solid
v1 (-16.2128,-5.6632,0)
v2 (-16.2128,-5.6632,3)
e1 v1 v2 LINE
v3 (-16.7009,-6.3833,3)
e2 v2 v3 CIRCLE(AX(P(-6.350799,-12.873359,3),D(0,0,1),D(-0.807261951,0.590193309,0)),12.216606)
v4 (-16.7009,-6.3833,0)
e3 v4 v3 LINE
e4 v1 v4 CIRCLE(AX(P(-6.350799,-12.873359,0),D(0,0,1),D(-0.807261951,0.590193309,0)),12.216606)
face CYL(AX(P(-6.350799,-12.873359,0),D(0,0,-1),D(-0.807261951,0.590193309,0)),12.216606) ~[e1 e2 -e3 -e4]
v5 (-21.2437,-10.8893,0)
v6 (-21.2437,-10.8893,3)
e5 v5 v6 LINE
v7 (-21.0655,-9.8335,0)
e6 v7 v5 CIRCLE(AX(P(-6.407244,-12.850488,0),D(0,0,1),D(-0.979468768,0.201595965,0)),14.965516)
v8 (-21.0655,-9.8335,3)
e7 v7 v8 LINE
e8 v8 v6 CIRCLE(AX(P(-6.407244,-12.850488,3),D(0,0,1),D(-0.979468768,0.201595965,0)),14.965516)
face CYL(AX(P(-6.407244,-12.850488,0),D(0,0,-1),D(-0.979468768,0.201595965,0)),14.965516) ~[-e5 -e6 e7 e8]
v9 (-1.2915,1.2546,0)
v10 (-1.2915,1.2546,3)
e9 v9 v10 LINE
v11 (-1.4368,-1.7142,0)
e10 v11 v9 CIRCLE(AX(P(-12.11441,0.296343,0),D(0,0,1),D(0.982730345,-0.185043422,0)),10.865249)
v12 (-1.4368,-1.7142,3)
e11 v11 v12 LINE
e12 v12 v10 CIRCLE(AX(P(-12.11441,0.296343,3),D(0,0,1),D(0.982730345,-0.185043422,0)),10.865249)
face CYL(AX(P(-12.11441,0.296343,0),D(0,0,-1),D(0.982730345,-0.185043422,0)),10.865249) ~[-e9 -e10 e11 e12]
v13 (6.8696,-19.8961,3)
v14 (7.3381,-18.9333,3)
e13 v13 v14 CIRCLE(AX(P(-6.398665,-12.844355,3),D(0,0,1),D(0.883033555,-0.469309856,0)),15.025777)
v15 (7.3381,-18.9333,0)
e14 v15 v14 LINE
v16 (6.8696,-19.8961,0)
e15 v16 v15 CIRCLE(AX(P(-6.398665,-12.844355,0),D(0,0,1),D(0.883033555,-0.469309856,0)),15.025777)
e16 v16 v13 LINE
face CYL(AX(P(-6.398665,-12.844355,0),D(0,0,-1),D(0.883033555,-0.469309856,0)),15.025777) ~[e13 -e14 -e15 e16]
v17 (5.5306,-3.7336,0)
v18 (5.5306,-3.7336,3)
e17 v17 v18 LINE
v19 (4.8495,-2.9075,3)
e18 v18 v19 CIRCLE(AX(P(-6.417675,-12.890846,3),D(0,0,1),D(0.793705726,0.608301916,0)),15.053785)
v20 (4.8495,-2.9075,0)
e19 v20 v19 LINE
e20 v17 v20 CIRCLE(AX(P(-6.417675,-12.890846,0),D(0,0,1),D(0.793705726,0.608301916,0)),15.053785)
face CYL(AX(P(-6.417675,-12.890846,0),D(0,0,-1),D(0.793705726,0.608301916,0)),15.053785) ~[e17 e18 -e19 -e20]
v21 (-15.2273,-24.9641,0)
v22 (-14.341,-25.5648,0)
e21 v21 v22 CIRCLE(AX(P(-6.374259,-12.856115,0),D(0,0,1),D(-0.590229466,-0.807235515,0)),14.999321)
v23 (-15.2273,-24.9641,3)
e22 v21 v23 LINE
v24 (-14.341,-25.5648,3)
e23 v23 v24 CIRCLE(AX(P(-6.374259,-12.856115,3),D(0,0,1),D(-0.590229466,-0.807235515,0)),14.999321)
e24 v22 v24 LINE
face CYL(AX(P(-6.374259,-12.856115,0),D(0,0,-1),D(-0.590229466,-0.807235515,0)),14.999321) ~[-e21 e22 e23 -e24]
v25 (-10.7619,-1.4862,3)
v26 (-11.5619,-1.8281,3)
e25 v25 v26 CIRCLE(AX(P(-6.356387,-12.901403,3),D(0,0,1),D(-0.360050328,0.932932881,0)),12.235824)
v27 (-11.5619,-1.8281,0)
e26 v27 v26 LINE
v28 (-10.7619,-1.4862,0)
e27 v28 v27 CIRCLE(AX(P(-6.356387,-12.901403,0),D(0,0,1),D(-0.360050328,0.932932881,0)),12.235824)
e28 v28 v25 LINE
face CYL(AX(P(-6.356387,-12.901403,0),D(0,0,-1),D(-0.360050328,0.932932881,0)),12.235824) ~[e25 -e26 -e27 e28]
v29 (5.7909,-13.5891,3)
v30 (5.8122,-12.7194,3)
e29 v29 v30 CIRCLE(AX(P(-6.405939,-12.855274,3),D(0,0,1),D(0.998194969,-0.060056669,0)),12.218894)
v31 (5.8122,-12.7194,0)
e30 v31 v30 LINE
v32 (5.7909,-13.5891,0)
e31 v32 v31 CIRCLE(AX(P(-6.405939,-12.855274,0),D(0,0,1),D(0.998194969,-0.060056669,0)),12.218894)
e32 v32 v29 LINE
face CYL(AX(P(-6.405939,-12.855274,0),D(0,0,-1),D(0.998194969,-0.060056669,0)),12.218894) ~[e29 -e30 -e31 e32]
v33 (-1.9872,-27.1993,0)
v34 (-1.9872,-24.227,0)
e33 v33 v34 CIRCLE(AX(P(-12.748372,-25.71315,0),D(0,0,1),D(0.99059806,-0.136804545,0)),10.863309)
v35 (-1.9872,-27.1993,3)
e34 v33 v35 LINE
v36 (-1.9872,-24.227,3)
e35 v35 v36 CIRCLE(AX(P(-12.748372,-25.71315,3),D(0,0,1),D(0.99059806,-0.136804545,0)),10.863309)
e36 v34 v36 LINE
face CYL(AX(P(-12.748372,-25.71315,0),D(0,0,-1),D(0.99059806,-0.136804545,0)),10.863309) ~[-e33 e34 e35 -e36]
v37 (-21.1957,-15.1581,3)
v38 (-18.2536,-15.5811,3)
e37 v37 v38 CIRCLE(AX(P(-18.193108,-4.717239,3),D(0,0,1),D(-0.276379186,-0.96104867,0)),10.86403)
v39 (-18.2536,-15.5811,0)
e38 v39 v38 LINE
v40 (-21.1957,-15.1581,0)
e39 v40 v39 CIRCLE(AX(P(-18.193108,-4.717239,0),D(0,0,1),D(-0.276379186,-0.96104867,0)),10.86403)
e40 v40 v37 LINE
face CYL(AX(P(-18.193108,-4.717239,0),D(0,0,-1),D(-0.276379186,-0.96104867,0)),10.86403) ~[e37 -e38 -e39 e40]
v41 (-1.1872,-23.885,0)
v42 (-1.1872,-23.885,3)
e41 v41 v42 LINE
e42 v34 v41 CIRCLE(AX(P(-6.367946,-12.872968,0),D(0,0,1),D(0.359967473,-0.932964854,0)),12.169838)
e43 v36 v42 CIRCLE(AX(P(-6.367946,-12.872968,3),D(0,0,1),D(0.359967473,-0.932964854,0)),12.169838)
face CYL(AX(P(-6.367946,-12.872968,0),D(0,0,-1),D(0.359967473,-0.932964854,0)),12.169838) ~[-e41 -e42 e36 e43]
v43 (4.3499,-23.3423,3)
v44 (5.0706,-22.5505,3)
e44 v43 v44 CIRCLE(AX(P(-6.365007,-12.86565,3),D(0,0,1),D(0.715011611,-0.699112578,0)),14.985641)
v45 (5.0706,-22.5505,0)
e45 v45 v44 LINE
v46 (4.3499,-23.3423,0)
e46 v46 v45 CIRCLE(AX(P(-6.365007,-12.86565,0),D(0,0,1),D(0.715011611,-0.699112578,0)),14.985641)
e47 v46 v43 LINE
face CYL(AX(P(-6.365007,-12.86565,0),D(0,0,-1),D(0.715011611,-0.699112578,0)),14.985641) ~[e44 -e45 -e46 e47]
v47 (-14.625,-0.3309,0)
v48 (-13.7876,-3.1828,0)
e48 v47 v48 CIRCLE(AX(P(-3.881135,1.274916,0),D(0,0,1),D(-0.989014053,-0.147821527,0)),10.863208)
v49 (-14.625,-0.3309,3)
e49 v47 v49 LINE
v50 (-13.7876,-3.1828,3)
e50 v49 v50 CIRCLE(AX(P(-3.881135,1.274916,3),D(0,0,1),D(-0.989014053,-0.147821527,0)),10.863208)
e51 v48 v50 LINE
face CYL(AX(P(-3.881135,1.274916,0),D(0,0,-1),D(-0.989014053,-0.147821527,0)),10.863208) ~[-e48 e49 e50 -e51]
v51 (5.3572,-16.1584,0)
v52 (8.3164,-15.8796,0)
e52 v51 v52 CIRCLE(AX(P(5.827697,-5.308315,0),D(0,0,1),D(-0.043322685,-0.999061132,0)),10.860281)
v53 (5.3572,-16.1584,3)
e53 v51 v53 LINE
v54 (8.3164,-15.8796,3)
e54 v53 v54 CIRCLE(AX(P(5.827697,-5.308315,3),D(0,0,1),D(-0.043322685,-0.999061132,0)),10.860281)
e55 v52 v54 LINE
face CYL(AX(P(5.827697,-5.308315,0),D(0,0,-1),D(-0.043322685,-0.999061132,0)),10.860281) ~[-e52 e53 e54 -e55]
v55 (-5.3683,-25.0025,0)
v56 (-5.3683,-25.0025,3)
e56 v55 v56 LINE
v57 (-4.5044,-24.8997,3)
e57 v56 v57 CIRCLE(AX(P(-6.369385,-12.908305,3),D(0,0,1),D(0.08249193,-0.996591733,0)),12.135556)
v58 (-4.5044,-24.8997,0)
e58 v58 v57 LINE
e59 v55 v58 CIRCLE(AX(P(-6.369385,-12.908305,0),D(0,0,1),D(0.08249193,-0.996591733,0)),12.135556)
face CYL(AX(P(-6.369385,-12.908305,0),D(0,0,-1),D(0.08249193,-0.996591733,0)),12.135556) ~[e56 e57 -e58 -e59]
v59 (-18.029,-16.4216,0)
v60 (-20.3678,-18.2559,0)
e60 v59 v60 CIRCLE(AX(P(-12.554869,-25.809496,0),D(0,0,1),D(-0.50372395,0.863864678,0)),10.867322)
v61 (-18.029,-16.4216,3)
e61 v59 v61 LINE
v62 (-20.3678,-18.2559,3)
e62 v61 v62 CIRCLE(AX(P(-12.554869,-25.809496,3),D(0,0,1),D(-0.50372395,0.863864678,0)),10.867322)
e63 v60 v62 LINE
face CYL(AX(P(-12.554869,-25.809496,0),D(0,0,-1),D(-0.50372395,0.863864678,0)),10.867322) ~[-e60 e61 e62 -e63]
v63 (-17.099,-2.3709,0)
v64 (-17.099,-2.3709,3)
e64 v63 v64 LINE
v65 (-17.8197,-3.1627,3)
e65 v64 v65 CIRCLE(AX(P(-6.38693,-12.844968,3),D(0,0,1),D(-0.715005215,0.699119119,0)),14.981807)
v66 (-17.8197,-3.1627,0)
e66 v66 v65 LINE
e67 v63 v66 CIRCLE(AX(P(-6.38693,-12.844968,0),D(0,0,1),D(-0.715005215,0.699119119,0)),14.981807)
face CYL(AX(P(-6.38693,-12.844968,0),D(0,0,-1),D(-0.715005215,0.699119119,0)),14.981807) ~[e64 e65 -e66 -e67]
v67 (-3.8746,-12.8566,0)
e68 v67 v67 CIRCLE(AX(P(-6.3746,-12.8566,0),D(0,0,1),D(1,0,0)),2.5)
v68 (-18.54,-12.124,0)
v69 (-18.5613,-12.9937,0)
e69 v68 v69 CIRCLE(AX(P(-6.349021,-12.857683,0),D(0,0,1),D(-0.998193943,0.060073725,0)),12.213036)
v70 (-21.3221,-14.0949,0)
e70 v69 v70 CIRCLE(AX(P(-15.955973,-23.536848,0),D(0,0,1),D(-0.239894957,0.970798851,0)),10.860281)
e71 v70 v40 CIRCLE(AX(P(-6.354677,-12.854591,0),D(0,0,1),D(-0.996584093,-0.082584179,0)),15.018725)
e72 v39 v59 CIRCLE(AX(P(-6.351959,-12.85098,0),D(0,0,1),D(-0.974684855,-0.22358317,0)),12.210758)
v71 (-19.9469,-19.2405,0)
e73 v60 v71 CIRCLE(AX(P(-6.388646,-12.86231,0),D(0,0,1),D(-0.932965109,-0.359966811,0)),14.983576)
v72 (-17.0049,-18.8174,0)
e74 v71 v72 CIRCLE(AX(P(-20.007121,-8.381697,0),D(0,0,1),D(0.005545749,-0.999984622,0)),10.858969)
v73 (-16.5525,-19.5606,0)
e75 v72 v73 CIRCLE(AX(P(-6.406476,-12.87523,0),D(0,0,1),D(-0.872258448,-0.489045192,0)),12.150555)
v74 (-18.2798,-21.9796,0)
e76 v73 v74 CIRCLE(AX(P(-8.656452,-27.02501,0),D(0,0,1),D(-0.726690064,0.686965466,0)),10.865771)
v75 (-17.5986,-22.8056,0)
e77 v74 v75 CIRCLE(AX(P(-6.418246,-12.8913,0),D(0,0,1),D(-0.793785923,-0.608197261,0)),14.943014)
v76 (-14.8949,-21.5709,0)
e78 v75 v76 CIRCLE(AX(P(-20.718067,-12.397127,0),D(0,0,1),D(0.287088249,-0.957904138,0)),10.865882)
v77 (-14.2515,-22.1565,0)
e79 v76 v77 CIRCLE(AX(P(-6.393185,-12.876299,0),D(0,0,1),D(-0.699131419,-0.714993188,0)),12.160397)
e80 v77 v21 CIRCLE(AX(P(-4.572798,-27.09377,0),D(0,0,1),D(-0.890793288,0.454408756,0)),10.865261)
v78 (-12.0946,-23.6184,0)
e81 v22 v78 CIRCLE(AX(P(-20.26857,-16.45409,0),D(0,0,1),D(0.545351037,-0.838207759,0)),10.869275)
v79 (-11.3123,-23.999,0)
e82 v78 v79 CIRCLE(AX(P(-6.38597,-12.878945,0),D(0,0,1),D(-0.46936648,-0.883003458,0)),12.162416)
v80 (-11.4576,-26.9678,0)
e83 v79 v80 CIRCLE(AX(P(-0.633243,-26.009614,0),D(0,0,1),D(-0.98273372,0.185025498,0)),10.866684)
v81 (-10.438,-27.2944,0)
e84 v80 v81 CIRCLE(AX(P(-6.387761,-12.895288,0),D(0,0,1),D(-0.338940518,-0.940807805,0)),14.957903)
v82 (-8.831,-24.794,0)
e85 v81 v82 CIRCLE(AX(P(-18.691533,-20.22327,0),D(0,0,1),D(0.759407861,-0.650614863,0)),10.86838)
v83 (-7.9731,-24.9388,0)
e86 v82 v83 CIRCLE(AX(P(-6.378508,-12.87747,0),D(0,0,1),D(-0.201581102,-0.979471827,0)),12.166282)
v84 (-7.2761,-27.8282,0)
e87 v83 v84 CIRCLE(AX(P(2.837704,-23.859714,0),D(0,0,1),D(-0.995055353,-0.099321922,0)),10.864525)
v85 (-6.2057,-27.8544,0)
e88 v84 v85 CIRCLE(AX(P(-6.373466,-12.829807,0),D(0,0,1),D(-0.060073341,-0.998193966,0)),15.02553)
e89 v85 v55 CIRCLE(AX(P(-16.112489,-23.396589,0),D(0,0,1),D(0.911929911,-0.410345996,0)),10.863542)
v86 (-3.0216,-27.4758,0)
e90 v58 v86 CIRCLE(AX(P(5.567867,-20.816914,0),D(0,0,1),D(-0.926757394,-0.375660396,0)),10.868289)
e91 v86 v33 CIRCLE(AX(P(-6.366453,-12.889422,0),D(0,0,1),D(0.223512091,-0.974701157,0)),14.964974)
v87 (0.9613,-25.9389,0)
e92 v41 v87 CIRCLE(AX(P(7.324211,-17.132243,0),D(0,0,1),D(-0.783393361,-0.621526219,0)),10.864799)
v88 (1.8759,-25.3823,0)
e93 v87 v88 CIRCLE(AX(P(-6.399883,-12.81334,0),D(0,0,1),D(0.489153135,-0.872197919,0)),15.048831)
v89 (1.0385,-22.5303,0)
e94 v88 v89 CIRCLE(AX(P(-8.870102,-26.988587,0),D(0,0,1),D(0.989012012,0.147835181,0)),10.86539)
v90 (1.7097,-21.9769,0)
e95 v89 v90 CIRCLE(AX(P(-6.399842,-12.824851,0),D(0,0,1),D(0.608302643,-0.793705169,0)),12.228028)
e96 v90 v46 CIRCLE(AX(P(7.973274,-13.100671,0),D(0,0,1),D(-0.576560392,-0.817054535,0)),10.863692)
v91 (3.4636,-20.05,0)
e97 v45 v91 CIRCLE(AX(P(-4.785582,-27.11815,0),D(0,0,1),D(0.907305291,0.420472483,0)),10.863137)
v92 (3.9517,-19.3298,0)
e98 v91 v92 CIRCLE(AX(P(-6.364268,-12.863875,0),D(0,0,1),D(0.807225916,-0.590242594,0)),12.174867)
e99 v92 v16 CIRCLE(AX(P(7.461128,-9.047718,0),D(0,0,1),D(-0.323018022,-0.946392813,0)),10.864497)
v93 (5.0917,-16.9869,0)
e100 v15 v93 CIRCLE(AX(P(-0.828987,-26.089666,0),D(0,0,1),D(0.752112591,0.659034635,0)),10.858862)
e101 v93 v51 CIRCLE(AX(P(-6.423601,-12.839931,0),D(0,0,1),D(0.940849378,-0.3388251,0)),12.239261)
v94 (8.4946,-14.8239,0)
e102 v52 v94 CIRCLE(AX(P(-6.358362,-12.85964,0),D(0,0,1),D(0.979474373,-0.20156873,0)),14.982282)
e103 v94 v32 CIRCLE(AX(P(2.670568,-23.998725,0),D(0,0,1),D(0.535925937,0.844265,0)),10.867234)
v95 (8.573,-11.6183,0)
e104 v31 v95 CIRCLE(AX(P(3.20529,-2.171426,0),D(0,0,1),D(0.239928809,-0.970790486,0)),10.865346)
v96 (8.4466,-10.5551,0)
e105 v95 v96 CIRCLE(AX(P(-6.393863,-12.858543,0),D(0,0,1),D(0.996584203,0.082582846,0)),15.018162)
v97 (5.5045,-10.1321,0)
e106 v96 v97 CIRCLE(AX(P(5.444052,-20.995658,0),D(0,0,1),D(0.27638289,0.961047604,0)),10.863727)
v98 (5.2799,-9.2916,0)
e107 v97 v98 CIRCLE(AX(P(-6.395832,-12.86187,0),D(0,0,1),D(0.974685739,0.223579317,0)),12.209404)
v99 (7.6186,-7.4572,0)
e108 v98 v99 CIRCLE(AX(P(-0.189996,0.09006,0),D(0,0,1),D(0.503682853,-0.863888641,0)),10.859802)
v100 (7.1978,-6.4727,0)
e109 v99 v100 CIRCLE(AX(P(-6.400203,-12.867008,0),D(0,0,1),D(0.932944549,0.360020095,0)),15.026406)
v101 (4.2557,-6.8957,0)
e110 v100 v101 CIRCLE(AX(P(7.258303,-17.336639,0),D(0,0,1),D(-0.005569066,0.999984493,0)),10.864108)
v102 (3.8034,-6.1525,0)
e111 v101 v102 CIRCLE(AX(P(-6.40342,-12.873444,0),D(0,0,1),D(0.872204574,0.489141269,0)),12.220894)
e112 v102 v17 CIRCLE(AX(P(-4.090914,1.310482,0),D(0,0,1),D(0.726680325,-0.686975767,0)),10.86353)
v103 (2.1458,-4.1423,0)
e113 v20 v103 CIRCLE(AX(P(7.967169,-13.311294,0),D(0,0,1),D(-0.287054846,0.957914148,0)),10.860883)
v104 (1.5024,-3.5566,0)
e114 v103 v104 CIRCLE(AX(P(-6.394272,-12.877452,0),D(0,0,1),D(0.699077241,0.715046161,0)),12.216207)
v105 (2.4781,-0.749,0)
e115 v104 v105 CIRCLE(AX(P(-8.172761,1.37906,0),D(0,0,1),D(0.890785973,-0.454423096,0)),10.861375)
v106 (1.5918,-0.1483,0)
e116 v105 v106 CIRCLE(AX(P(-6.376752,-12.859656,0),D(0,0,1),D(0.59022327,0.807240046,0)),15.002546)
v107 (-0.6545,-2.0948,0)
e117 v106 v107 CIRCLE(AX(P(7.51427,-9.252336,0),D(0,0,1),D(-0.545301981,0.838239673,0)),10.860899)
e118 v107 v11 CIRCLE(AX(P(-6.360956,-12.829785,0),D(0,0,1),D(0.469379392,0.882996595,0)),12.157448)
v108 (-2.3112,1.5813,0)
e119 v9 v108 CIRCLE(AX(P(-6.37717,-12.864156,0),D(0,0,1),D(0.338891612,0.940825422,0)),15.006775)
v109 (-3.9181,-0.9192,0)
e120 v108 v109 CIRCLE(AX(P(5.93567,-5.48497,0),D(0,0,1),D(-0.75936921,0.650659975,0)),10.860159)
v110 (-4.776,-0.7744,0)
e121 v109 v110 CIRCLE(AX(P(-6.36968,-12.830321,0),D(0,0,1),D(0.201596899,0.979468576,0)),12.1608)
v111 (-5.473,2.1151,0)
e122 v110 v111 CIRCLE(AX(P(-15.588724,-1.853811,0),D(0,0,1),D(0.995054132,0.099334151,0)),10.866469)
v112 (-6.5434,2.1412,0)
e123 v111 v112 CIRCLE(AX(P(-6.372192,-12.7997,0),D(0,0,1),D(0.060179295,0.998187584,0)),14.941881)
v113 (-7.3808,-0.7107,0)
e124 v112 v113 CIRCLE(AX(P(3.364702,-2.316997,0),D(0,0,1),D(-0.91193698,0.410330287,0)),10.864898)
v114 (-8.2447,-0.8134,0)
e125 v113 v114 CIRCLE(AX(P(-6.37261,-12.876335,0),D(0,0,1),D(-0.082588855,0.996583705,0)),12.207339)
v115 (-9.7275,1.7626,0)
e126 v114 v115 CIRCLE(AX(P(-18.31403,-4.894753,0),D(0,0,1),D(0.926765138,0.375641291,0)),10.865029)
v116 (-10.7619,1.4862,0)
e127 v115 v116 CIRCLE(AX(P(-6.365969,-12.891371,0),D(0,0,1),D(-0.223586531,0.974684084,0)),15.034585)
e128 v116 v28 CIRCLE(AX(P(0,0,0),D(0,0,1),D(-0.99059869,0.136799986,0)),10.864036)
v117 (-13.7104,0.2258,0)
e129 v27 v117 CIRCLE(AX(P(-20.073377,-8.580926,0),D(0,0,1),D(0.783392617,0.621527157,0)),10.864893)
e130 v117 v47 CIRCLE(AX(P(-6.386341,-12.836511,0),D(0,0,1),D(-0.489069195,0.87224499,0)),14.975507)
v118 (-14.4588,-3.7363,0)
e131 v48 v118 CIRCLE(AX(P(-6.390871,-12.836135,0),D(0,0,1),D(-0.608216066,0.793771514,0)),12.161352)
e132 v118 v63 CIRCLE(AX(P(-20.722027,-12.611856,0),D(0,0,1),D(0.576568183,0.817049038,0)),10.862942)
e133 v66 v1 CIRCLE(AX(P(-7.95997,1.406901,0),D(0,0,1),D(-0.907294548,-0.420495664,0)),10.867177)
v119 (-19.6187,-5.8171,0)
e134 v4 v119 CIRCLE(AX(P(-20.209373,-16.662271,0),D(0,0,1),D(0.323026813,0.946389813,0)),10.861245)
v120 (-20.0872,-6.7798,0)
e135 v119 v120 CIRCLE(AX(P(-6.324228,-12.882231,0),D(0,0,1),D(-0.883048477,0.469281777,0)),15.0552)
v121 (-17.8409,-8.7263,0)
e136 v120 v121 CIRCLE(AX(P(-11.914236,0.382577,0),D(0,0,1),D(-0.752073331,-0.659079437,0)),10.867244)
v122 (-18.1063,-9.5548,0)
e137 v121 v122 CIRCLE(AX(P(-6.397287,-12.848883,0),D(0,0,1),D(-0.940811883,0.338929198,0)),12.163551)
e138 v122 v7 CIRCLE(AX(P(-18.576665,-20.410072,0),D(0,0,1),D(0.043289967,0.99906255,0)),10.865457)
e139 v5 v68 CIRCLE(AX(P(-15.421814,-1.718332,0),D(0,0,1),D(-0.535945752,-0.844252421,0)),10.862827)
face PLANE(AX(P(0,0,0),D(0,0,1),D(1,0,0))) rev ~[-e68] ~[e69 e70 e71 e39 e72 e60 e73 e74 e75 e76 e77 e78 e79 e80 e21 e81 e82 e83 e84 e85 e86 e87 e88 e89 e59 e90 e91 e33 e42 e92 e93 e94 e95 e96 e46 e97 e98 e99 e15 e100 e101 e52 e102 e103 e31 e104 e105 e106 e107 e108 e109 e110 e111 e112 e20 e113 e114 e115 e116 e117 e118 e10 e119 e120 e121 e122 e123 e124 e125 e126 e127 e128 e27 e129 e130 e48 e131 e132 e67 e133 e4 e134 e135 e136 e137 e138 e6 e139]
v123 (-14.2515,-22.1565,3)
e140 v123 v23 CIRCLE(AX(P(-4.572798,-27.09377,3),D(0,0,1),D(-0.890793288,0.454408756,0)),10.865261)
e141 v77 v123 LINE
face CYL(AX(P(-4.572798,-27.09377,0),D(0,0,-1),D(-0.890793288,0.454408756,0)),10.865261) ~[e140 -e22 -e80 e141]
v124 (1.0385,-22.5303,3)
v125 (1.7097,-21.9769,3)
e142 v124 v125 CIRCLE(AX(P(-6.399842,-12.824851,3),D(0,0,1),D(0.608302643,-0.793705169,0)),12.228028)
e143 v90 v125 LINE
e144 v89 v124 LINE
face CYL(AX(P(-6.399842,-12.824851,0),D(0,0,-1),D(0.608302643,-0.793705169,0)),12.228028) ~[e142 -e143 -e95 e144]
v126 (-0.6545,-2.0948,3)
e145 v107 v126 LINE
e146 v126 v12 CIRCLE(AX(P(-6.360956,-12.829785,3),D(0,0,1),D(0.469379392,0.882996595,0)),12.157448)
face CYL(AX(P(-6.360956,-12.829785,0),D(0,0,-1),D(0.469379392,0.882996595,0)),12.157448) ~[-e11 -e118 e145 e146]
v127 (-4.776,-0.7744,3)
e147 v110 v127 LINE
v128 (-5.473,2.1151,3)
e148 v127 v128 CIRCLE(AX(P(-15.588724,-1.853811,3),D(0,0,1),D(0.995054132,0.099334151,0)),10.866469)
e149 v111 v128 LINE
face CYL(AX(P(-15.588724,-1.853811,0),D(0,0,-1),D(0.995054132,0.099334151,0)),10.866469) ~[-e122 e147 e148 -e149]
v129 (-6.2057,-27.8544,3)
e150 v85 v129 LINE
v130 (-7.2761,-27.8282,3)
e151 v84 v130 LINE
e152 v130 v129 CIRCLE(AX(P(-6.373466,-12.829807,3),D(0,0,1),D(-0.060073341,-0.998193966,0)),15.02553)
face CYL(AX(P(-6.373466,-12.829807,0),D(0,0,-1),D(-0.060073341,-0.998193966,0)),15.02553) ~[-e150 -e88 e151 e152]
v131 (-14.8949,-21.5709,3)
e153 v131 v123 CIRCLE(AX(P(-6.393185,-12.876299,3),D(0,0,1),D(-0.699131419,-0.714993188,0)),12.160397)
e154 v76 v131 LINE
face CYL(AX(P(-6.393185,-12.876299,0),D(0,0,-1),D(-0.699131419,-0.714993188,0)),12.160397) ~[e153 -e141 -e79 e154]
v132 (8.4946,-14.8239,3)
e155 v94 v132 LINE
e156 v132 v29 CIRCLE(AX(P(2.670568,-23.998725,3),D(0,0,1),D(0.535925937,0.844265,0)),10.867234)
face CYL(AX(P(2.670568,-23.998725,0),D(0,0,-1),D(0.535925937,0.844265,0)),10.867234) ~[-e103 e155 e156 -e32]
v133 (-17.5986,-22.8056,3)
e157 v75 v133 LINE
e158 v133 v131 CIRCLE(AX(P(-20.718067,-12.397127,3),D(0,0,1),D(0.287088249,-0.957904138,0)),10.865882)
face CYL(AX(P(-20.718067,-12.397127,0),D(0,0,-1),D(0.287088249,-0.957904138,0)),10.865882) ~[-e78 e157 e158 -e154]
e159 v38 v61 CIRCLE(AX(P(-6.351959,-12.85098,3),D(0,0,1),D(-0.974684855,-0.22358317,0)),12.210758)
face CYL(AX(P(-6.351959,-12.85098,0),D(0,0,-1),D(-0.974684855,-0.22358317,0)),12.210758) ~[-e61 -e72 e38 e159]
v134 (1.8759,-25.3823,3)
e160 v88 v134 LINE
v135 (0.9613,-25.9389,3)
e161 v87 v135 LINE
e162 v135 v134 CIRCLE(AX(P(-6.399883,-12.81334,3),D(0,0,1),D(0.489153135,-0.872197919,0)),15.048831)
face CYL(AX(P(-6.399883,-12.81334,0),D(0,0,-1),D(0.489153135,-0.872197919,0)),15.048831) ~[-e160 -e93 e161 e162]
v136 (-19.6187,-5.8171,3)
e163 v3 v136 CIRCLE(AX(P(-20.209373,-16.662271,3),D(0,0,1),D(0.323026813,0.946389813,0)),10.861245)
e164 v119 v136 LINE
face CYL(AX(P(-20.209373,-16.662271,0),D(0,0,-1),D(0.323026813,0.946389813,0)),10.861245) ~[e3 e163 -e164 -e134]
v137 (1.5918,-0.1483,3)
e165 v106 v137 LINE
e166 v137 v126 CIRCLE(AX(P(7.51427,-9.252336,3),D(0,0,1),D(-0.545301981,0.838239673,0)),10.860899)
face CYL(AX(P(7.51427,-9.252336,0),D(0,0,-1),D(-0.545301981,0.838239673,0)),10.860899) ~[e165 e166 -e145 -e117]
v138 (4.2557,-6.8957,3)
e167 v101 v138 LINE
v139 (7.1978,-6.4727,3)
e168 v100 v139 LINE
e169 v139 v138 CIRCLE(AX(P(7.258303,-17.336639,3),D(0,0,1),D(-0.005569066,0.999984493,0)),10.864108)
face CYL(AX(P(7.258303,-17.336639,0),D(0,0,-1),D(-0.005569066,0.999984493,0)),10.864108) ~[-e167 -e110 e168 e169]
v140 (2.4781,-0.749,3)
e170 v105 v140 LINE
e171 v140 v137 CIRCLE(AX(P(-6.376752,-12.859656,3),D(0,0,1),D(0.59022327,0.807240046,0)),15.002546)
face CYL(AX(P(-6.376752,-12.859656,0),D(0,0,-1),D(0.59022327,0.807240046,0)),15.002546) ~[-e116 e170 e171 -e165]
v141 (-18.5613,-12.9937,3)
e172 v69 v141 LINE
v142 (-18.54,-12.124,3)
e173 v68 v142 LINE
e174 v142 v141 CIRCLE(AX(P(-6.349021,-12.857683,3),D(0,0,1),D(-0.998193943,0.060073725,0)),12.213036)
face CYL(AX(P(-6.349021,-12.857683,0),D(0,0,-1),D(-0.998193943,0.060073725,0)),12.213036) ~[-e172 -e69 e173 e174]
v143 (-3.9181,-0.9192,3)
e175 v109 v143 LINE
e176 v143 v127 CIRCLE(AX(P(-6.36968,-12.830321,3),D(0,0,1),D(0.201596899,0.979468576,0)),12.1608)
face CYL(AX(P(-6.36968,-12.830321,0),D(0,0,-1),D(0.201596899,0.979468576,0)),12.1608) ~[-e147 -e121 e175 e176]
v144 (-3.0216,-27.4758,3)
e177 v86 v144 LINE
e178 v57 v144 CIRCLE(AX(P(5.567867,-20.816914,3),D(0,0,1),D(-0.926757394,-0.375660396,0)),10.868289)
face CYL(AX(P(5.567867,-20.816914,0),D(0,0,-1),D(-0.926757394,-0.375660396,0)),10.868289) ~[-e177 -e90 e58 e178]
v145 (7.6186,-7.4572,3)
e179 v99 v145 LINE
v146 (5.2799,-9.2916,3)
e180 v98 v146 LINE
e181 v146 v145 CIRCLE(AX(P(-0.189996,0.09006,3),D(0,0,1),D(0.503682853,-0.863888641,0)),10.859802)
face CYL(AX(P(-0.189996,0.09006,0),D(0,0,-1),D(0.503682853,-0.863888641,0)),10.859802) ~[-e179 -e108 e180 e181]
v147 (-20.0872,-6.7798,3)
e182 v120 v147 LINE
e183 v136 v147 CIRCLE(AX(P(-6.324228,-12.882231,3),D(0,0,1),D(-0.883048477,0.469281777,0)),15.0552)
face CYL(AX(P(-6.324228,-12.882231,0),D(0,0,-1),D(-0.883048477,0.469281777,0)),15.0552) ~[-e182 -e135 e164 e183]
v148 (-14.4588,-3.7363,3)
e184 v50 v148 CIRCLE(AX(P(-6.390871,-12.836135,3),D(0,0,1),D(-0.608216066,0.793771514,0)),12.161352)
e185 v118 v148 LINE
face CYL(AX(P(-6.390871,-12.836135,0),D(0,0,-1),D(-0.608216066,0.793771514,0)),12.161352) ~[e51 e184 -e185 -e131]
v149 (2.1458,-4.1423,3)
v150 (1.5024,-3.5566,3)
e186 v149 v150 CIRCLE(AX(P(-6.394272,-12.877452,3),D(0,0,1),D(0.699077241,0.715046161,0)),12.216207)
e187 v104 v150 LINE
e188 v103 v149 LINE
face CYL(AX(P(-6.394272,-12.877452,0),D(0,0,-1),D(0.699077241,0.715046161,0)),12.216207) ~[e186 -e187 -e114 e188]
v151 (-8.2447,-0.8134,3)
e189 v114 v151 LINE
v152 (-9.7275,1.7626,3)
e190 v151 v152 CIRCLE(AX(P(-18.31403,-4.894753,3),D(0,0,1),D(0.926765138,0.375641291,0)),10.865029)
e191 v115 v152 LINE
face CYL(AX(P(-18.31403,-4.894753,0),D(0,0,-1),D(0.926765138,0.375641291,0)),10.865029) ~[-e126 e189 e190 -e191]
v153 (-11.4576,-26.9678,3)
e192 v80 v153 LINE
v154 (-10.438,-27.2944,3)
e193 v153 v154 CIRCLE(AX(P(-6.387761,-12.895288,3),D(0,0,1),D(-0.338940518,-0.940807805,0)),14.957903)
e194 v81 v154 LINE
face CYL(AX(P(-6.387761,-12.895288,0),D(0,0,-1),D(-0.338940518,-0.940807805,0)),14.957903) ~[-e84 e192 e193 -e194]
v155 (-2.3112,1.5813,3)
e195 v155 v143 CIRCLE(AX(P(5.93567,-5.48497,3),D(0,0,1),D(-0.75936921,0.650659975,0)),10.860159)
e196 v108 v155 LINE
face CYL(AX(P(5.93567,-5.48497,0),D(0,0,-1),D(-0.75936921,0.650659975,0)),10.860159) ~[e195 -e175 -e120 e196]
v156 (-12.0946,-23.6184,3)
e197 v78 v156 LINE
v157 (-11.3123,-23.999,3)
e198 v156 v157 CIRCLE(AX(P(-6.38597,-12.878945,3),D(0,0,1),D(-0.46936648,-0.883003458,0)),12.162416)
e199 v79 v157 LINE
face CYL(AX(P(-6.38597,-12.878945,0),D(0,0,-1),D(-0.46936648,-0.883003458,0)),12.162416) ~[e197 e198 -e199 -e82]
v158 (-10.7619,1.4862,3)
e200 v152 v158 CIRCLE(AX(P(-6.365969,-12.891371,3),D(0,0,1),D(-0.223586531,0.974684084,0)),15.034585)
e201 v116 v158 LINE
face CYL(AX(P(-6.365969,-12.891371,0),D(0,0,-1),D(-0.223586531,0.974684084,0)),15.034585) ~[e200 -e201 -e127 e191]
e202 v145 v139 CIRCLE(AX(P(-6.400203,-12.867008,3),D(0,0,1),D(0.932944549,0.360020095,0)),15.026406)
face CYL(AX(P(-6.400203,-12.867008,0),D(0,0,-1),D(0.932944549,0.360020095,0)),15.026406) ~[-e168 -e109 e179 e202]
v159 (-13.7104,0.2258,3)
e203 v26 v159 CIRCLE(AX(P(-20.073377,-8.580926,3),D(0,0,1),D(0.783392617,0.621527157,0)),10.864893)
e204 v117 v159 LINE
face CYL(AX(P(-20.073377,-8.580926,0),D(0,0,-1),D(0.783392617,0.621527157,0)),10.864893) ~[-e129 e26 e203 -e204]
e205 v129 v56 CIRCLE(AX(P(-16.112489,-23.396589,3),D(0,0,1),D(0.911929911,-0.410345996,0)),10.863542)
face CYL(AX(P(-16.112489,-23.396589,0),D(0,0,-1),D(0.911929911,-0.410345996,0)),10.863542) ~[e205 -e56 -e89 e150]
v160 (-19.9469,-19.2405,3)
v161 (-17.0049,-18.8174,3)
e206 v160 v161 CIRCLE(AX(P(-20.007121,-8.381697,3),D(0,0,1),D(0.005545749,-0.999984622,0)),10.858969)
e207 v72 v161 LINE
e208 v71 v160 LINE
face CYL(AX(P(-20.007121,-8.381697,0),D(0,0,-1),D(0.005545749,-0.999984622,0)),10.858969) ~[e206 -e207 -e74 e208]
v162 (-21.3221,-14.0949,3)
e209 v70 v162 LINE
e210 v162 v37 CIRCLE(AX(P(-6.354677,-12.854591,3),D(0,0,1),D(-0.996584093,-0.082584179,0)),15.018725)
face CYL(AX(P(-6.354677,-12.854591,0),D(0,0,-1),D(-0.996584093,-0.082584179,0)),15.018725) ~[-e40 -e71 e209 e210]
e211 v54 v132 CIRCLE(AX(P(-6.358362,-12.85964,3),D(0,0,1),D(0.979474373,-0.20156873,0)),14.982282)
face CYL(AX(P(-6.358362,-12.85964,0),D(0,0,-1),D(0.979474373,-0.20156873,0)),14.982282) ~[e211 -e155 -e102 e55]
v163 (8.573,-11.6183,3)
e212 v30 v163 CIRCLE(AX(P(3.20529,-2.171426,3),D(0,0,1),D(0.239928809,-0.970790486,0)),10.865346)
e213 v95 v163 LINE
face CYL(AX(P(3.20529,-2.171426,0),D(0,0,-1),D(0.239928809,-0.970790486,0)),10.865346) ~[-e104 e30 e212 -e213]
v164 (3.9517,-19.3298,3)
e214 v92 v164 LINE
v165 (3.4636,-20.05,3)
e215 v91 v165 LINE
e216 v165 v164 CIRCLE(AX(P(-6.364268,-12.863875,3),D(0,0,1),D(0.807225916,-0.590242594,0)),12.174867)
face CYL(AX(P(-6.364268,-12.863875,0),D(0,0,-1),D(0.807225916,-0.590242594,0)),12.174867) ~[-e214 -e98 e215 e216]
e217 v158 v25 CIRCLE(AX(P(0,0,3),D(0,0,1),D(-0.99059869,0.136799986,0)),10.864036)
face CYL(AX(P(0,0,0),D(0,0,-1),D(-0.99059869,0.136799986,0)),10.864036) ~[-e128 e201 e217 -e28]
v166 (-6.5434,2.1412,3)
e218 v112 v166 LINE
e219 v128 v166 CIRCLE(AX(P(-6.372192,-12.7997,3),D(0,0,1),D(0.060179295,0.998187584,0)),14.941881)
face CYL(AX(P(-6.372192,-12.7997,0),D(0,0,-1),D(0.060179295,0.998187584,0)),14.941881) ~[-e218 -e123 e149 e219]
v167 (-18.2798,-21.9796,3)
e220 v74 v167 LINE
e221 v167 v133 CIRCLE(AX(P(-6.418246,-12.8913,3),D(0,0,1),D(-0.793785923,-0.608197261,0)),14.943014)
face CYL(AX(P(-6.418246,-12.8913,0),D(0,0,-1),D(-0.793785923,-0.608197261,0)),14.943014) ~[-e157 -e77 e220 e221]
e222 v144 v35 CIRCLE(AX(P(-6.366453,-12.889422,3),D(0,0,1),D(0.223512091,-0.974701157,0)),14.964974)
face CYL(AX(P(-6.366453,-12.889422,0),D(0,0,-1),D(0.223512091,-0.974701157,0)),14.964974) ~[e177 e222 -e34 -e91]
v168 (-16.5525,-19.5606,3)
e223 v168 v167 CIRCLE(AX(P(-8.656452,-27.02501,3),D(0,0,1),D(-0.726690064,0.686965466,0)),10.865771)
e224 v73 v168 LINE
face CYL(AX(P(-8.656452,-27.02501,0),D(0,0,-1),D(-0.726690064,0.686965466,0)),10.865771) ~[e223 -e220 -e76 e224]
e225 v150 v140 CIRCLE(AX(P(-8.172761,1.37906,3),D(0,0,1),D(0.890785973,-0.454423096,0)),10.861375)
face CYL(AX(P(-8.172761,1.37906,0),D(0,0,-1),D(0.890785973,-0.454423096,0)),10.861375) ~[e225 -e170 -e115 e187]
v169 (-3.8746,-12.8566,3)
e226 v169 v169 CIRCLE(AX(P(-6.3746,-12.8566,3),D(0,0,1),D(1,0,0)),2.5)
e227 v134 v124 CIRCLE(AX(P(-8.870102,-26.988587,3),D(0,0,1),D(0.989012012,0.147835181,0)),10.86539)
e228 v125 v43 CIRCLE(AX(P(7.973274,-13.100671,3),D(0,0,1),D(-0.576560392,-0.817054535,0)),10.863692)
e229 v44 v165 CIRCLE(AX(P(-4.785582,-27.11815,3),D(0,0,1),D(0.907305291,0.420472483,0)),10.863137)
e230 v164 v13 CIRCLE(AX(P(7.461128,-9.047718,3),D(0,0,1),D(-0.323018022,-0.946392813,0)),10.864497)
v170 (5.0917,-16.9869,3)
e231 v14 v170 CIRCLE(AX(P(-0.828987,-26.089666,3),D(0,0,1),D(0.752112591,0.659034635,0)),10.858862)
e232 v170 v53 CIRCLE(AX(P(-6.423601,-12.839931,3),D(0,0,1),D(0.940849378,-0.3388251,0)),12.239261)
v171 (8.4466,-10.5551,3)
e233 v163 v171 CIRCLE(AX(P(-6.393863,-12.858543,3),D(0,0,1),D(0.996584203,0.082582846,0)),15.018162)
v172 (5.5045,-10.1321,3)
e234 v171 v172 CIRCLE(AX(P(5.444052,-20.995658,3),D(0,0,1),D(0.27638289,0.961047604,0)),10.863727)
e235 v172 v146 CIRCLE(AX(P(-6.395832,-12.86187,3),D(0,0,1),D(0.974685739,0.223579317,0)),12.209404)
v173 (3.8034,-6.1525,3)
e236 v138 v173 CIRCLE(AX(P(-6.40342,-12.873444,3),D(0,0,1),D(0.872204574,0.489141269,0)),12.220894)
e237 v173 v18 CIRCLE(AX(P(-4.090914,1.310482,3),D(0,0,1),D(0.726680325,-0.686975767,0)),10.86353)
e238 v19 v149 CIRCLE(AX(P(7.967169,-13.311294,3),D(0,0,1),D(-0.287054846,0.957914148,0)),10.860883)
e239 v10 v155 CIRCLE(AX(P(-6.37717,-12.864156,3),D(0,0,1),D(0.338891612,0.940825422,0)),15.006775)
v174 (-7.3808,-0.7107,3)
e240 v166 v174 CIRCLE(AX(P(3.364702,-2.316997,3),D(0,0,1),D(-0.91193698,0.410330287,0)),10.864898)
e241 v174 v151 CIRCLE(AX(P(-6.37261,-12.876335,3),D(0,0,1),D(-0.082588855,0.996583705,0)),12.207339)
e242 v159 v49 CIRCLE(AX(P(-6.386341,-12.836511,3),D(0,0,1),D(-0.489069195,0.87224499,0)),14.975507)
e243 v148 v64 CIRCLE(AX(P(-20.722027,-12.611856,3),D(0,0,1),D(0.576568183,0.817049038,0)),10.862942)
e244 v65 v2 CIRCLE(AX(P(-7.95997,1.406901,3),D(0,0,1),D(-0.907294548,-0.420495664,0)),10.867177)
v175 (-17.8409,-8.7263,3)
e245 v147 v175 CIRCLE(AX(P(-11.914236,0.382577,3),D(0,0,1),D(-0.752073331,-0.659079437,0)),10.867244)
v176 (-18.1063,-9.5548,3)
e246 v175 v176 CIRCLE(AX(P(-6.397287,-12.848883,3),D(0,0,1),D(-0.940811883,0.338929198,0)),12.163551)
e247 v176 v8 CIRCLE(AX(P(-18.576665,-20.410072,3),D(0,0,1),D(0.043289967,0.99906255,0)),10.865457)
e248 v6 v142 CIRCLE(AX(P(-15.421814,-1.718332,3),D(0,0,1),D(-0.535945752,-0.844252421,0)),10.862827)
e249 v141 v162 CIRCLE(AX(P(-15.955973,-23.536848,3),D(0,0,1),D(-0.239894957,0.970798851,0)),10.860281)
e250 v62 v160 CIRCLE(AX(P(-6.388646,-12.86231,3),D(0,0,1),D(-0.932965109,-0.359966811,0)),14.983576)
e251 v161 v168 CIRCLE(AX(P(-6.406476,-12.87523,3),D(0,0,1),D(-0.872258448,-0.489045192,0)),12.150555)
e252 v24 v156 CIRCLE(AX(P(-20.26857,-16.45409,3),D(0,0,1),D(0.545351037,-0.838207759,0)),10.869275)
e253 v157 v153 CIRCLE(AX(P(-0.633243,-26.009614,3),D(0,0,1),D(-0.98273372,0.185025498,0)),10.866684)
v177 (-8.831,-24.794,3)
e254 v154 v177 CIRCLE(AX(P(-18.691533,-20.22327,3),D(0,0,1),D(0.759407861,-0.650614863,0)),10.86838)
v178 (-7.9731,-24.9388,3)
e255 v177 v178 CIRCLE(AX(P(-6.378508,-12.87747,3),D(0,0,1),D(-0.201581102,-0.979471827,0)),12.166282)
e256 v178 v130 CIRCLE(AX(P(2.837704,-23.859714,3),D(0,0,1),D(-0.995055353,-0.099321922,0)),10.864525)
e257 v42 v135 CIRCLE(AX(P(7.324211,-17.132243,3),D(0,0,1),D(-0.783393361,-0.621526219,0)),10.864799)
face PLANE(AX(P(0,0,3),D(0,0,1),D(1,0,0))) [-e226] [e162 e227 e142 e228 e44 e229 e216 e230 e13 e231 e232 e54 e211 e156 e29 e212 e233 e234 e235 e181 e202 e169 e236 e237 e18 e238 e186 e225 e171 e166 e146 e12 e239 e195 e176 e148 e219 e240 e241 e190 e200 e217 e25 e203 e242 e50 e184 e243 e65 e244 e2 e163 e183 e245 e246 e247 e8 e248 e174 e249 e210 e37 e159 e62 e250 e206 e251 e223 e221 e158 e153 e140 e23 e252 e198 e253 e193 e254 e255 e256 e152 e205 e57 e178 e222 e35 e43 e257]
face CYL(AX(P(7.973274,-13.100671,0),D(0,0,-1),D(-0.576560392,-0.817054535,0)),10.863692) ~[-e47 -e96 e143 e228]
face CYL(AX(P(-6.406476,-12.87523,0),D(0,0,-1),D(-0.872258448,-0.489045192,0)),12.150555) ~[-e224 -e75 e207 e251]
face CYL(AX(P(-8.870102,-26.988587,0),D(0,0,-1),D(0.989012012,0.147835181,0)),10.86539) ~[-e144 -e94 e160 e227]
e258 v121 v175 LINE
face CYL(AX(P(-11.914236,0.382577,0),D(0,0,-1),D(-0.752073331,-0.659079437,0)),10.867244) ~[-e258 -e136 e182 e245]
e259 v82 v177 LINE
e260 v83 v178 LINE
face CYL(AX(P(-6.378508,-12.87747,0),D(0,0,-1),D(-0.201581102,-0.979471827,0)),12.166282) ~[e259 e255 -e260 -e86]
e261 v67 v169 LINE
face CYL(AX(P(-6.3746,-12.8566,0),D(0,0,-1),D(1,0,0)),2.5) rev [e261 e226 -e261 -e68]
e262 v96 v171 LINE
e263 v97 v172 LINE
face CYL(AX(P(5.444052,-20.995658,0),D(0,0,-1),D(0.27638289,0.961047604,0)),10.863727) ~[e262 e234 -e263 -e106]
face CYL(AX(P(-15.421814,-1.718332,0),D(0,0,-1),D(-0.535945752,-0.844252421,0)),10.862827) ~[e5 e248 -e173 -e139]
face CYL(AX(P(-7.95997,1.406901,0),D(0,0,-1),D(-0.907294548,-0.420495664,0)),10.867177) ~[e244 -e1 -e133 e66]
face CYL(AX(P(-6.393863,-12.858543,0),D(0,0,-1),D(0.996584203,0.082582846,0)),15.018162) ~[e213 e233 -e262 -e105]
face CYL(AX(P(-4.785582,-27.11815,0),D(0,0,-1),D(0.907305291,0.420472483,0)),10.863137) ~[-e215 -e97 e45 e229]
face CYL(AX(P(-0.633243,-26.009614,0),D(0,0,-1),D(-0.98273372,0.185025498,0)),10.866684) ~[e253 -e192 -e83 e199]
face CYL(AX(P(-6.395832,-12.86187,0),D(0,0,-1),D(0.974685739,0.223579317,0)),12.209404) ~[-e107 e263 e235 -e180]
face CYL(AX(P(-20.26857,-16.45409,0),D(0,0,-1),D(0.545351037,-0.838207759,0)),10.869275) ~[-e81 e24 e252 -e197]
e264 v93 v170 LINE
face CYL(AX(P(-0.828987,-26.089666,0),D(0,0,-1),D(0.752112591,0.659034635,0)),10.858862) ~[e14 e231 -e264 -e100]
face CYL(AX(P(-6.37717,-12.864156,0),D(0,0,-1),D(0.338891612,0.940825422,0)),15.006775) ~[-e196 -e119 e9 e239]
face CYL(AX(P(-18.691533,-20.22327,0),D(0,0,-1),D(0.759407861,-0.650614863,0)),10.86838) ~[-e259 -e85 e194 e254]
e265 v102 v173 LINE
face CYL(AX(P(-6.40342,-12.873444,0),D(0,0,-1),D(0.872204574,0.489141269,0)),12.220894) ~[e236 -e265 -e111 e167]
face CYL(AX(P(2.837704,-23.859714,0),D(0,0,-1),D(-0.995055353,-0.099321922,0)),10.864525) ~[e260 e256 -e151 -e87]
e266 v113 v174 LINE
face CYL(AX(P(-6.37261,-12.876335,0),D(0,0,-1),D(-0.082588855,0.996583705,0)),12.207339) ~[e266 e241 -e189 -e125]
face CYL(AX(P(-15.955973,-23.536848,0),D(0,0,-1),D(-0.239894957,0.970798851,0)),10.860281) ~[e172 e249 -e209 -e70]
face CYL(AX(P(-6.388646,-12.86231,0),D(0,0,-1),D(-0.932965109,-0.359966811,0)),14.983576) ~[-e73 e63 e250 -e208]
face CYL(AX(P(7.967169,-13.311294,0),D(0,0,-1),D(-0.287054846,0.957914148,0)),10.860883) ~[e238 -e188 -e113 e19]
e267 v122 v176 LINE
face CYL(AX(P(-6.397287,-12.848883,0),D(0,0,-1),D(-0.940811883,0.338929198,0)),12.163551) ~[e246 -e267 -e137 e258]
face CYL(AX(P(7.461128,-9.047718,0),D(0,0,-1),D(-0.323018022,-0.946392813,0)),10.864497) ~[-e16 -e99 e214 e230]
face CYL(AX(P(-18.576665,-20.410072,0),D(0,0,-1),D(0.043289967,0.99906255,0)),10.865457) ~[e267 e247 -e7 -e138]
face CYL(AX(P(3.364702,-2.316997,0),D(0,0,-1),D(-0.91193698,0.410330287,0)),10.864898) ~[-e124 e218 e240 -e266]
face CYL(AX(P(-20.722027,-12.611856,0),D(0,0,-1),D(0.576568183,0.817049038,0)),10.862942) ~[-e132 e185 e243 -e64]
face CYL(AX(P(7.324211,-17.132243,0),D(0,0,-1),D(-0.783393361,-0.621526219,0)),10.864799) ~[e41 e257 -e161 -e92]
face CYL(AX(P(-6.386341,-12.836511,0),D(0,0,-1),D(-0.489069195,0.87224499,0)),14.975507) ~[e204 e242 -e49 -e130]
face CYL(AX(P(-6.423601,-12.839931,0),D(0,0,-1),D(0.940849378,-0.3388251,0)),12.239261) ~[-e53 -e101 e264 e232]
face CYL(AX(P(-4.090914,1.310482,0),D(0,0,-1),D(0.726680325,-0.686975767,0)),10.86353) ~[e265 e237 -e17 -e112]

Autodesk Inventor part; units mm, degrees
ref_plane "YZ Plane" through (0, 0, 0) normal (1, 0, 0) x (0, 1, 0)
ref_plane "XZ Plane" through (0, 0, 0) normal (0, 1, 0) x (-1, 0, 0)
ref_plane "XY Plane" through (0, 0, 0) normal (0, 0, 1) x (1, 0, 0)
sketch "Sketch2" plane through (0, 0, 0) normal (0, 0, 1) x (1, 0, 0)
  arc A0 (-0.6545, -2.0948) -> (-1.4368, -1.7142) centre (-6.3746, -12.8566) ccw
  arc A1 (-1.4368, -1.7142) -> (-1.2915, 1.2546) centre (-12.1132, 0.2962) ccw
  arc A2 (-1.2915, 1.2546) -> (-2.3112, 1.5813) centre (-6.3746, -12.8566) ccw
  arc A3 (-2.3112, 1.5813) -> (-3.9181, -0.9192) centre (5.9388, -5.4873) ccw
  arc A4 (-3.9181, -0.9192) -> (-4.776, -0.7744) centre (-6.3746, -12.8566) ccw
  arc A5 (-4.776, -0.7744) -> (-5.473, 2.1151) centre (-15.5863, -1.8534) ccw
  arc A6 (-5.473, 2.1151) -> (-6.5434, 2.1412) centre (-6.3746, -12.8566) ccw
  arc A7 (-6.5434, 2.1412) -> (-7.3808, -0.7107) centre (3.3639, -2.3167) ccw
  arc A8 (-7.3808, -0.7107) -> (-8.2447, -0.8134) centre (-6.3746, -12.8566) ccw
  arc A9 (-8.2447, -0.8134) -> (-9.7275, 1.7626) centre (-18.3131, -4.8943) ccw
  arc A10 (-9.7275, 1.7626) -> (-10.7619, 1.4862) centre (-6.3746, -12.8566) ccw
  arc A11 (-10.7619, 1.4862) -> (-10.7619, -1.4862) centre (0, 0) ccw
  arc A12 (-10.7619, -1.4862) -> (-11.5619, -1.8281) centre (-6.3746, -12.8566) ccw
  arc A13 (-11.5619, -1.8281) -> (-13.7104, 0.2258) centre (-20.0728, -8.5804) ccw
  arc A14 (-13.7104, 0.2258) -> (-14.625, -0.3309) centre (-6.3746, -12.8566) ccw
  arc A15 (-14.625, -0.3309) -> (-13.7876, -3.1828) centre (-3.8803, 1.2751) ccw
  arc A16 (-13.7876, -3.1828) -> (-14.4588, -3.7363) centre (-6.3746, -12.8566) ccw
  arc A17 (-14.4588, -3.7363) -> (-17.099, -2.3709) centre (-20.7226, -12.6128) ccw
  arc A18 (-17.099, -2.3709) -> (-17.8197, -3.1627) centre (-6.3746, -12.8566) ccw
  arc A19 (-17.8197, -3.1627) -> (-16.2128, -5.6632) centre (-7.9627, 1.4054) ccw
  arc A20 (-16.2128, -5.6632) -> (-16.7009, -6.3833) centre (-6.3746, -12.8566) ccw
  arc A21 (-16.7009, -6.3833) -> (-19.6187, -5.8171) centre (-20.2101, -16.665) ccw
  arc A22 (-19.6187, -5.8171) -> (-20.0872, -6.7798) centre (-6.3746, -12.8566) ccw
  arc A23 (-20.0872, -6.7798) -> (-17.8409, -8.7263) centre (-11.9165, 0.3803) ccw
  arc A24 (-17.8409, -8.7263) -> (-18.1063, -9.5548) centre (-6.3746, -12.8566) ccw
  arc A25 (-18.1063, -9.5548) -> (-21.0655, -9.8335) centre (-18.5767, -20.4087) ccw
  arc A26 (-21.0655, -9.8335) -> (-21.2437, -10.8893) centre (-6.3746, -12.8566) ccw
  arc A27 (-21.2437, -10.8893) -> (-18.54, -12.124) centre (-15.4212, -1.7172) ccw
  arc A28 (-18.54, -12.124) -> (-18.5613, -12.9937) centre (-6.3746, -12.8566) ccw
  arc A29 (-18.5613, -12.9937) -> (-21.3221, -14.0949) centre (-15.9548, -23.5405) ccw
  arc A30 (-21.3221, -14.0949) -> (-21.1957, -15.1581) centre (-6.3746, -12.8566) ccw
  arc A31 (-21.1957, -15.1581) -> (-18.2536, -15.5811) centre (-18.1931, -4.7172) ccw
  arc A32 (-18.2536, -15.5811) -> (-18.029, -16.4216) centre (-6.3746, -12.8566) ccw
  arc A33 (-18.029, -16.4216) -> (-20.3678, -18.2559) centre (-12.5567, -25.8068) ccw
  arc A34 (-19.9469, -19.2405) -> (-17.0049, -18.8174) centre (-20.0075, -8.3766) ccw
  arc A35 (-20.3678, -18.2559) -> (-19.9469, -19.2405) centre (-6.3746, -12.8566) ccw
  arc A36 (-17.0049, -18.8174) -> (-16.5525, -19.5606) centre (-6.3746, -12.8566) ccw
  arc A37 (-16.5525, -19.5606) -> (-18.2798, -21.9796) centre (-8.6578, -27.0239) ccw
  arc A38 (-18.2798, -21.9796) -> (-17.5986, -22.8056) centre (-6.3746, -12.8566) ccw
  arc A39 (-17.5986, -22.8056) -> (-14.8949, -21.5709) centre (-20.7174, -12.3989) ccw
  arc A40 (-14.8949, -21.5709) -> (-14.2515, -22.1565) centre (-6.3746, -12.8566) ccw
  arc A41 (-14.2515, -22.1565) -> (-15.2273, -24.9641) centre (-4.5739, -27.0933) ccw
  arc A42 (-15.2273, -24.9641) -> (-14.341, -25.5648) centre (-6.3746, -12.8566) ccw
  arc A43 (-14.341, -25.5648) -> (-12.0946, -23.6184) centre (-20.2654, -16.4583) ccw
  arc A44 (-12.0946, -23.6184) -> (-11.3123, -23.999) centre (-6.3746, -12.8566) ccw
  arc A45 (-11.3123, -23.999) -> (-11.4576, -26.9678) centre (-0.6359, -26.0093) ccw
  arc A46 (-11.4576, -26.9678) -> (-10.438, -27.2944) centre (-6.3746, -12.8566) ccw
  arc A47 (-10.438, -27.2944) -> (-8.831, -24.794) centre (-18.688, -20.2259) ccw
  arc A48 (-8.831, -24.794) -> (-7.9731, -24.9388) centre (-6.3746, -12.8566) ccw
  arc A49 (-7.9731, -24.9388) -> (-7.2761, -27.8282) centre (2.8372, -23.8598) ccw
  arc A50 (-7.2761, -27.8282) -> (-6.2057, -27.8544) centre (-6.3746, -12.8566) ccw
  arc A51 (-6.2057, -27.8544) -> (-5.3683, -25.0025) centre (-16.113, -23.3964) ccw
  arc A52 (-5.3683, -25.0025) -> (-4.5044, -24.8997) centre (-6.3746, -12.8566) ccw
  arc A53 (-4.5044, -24.8997) -> (-3.0216, -27.4758) centre (5.564, -20.8188) ccw
  arc A54 (-3.0216, -27.4758) -> (-1.9872, -27.1993) centre (-6.3746, -12.8566) ccw
  arc A55 (-1.9872, -27.1993) -> (-1.9872, -24.227) centre (-12.7491, -25.7131) ccw
  arc A56 (-1.9872, -24.227) -> (-1.1872, -23.885) centre (-6.3746, -12.8566) ccw
  arc A57 (-1.1872, -23.885) -> (0.9613, -25.9389) centre (7.3236, -17.1328) ccw
  arc A58 (0.9613, -25.9389) -> (1.8759, -25.3823) centre (-6.3746, -12.8566) ccw
  arc A59 (1.8759, -25.3823) -> (1.0385, -22.5303) centre (-8.8688, -26.9883) ccw
  arc A60 (1.0385, -22.5303) -> (1.7097, -21.9769) centre (-6.3746, -12.8566) ccw
  arc A61 (1.7097, -21.9769) -> (4.3499, -23.3423) centre (7.9735, -13.1003) ccw
  arc A62 (4.3499, -23.3423) -> (5.0706, -22.5505) centre (-6.3746, -12.8566) ccw
  arc A63 (5.0706, -22.5505) -> (3.4636, -20.05) centre (-4.7864, -27.1186) ccw
  arc A64 (3.4636, -20.05) -> (3.9517, -19.3298) centre (-6.3746, -12.8566) ccw
  arc A65 (3.9517, -19.3298) -> (6.8696, -19.8961) centre (7.461, -9.0482) ccw
  arc A66 (6.8696, -19.8961) -> (7.3381, -18.9333) centre (-6.3746, -12.8566) ccw
  arc A67 (7.3381, -18.9333) -> (5.0917, -16.9869) centre (-0.8327, -26.0934) ccw
  arc A68 (5.0917, -16.9869) -> (5.3572, -16.1584) centre (-6.3746, -12.8566) ccw
  arc A69 (5.3572, -16.1584) -> (8.3164, -15.8796) centre (5.8276, -5.3045) ccw
  arc A70 (8.3164, -15.8796) -> (8.4946, -14.8239) centre (-6.3746, -12.8566) ccw
  arc A71 (8.4946, -14.8239) -> (5.7909, -13.5891) centre (2.6721, -23.9959) ccw
  arc A72 (5.7909, -13.5891) -> (5.8122, -12.7194) centre (-6.3746, -12.8566) ccw
  arc A73 (5.8122, -12.7194) -> (8.573, -11.6183) centre (3.2057, -2.1727) ccw
  arc A74 (8.573, -11.6183) -> (8.4466, -10.5551) centre (-6.3746, -12.8566) ccw
  arc A75 (8.4466, -10.5551) -> (5.5045, -10.1321) centre (5.444, -20.9959) ccw
  arc A76 (5.5045, -10.1321) -> (5.2799, -9.2916) centre (-6.3746, -12.8566) ccw
  arc A77 (5.2799, -9.2916) -> (7.6186, -7.4572) centre (-0.1924, 0.0936) ccw
  arc A78 (7.6186, -7.4572) -> (7.1978, -6.4727) centre (-6.3746, -12.8566) ccw
  arc A79 (7.1978, -6.4727) -> (4.2557, -6.8957) centre (7.2583, -17.3366) ccw
  arc A80 (4.2557, -6.8957) -> (3.8034, -6.1525) centre (-6.3746, -12.8566) ccw
  arc A81 (3.8034, -6.1525) -> (5.5306, -3.7336) centre (-4.0913, 1.3108) ccw
  arc A82 (5.5306, -3.7336) -> (4.8495, -2.9075) centre (-6.3746, -12.8566) ccw
  arc A83 (4.8495, -2.9075) -> (2.1458, -4.1423) centre (7.9683, -13.3143) ccw
  arc A84 (2.1458, -4.1423) -> (1.5024, -3.5566) centre (-6.3746, -12.8566) ccw
  arc A85 (1.5024, -3.5566) -> (2.4781, -0.749) centre (-8.1752, 1.3801) ccw
  arc A86 (1.5918, -0.1483) -> (-0.6545, -2.0948) centre (7.5162, -9.2549) ccw
  arc A87 (2.4781, -0.749) -> (1.5918, -0.1483) centre (-6.3746, -12.8566) ccw
  circle A88 centre (-6.3746, -12.8566) radius 2.5
  dimension "d9" = 5
extrude "Extrusion1" add sketch "Sketch2" along normal blind 3
properties part number "team29"
